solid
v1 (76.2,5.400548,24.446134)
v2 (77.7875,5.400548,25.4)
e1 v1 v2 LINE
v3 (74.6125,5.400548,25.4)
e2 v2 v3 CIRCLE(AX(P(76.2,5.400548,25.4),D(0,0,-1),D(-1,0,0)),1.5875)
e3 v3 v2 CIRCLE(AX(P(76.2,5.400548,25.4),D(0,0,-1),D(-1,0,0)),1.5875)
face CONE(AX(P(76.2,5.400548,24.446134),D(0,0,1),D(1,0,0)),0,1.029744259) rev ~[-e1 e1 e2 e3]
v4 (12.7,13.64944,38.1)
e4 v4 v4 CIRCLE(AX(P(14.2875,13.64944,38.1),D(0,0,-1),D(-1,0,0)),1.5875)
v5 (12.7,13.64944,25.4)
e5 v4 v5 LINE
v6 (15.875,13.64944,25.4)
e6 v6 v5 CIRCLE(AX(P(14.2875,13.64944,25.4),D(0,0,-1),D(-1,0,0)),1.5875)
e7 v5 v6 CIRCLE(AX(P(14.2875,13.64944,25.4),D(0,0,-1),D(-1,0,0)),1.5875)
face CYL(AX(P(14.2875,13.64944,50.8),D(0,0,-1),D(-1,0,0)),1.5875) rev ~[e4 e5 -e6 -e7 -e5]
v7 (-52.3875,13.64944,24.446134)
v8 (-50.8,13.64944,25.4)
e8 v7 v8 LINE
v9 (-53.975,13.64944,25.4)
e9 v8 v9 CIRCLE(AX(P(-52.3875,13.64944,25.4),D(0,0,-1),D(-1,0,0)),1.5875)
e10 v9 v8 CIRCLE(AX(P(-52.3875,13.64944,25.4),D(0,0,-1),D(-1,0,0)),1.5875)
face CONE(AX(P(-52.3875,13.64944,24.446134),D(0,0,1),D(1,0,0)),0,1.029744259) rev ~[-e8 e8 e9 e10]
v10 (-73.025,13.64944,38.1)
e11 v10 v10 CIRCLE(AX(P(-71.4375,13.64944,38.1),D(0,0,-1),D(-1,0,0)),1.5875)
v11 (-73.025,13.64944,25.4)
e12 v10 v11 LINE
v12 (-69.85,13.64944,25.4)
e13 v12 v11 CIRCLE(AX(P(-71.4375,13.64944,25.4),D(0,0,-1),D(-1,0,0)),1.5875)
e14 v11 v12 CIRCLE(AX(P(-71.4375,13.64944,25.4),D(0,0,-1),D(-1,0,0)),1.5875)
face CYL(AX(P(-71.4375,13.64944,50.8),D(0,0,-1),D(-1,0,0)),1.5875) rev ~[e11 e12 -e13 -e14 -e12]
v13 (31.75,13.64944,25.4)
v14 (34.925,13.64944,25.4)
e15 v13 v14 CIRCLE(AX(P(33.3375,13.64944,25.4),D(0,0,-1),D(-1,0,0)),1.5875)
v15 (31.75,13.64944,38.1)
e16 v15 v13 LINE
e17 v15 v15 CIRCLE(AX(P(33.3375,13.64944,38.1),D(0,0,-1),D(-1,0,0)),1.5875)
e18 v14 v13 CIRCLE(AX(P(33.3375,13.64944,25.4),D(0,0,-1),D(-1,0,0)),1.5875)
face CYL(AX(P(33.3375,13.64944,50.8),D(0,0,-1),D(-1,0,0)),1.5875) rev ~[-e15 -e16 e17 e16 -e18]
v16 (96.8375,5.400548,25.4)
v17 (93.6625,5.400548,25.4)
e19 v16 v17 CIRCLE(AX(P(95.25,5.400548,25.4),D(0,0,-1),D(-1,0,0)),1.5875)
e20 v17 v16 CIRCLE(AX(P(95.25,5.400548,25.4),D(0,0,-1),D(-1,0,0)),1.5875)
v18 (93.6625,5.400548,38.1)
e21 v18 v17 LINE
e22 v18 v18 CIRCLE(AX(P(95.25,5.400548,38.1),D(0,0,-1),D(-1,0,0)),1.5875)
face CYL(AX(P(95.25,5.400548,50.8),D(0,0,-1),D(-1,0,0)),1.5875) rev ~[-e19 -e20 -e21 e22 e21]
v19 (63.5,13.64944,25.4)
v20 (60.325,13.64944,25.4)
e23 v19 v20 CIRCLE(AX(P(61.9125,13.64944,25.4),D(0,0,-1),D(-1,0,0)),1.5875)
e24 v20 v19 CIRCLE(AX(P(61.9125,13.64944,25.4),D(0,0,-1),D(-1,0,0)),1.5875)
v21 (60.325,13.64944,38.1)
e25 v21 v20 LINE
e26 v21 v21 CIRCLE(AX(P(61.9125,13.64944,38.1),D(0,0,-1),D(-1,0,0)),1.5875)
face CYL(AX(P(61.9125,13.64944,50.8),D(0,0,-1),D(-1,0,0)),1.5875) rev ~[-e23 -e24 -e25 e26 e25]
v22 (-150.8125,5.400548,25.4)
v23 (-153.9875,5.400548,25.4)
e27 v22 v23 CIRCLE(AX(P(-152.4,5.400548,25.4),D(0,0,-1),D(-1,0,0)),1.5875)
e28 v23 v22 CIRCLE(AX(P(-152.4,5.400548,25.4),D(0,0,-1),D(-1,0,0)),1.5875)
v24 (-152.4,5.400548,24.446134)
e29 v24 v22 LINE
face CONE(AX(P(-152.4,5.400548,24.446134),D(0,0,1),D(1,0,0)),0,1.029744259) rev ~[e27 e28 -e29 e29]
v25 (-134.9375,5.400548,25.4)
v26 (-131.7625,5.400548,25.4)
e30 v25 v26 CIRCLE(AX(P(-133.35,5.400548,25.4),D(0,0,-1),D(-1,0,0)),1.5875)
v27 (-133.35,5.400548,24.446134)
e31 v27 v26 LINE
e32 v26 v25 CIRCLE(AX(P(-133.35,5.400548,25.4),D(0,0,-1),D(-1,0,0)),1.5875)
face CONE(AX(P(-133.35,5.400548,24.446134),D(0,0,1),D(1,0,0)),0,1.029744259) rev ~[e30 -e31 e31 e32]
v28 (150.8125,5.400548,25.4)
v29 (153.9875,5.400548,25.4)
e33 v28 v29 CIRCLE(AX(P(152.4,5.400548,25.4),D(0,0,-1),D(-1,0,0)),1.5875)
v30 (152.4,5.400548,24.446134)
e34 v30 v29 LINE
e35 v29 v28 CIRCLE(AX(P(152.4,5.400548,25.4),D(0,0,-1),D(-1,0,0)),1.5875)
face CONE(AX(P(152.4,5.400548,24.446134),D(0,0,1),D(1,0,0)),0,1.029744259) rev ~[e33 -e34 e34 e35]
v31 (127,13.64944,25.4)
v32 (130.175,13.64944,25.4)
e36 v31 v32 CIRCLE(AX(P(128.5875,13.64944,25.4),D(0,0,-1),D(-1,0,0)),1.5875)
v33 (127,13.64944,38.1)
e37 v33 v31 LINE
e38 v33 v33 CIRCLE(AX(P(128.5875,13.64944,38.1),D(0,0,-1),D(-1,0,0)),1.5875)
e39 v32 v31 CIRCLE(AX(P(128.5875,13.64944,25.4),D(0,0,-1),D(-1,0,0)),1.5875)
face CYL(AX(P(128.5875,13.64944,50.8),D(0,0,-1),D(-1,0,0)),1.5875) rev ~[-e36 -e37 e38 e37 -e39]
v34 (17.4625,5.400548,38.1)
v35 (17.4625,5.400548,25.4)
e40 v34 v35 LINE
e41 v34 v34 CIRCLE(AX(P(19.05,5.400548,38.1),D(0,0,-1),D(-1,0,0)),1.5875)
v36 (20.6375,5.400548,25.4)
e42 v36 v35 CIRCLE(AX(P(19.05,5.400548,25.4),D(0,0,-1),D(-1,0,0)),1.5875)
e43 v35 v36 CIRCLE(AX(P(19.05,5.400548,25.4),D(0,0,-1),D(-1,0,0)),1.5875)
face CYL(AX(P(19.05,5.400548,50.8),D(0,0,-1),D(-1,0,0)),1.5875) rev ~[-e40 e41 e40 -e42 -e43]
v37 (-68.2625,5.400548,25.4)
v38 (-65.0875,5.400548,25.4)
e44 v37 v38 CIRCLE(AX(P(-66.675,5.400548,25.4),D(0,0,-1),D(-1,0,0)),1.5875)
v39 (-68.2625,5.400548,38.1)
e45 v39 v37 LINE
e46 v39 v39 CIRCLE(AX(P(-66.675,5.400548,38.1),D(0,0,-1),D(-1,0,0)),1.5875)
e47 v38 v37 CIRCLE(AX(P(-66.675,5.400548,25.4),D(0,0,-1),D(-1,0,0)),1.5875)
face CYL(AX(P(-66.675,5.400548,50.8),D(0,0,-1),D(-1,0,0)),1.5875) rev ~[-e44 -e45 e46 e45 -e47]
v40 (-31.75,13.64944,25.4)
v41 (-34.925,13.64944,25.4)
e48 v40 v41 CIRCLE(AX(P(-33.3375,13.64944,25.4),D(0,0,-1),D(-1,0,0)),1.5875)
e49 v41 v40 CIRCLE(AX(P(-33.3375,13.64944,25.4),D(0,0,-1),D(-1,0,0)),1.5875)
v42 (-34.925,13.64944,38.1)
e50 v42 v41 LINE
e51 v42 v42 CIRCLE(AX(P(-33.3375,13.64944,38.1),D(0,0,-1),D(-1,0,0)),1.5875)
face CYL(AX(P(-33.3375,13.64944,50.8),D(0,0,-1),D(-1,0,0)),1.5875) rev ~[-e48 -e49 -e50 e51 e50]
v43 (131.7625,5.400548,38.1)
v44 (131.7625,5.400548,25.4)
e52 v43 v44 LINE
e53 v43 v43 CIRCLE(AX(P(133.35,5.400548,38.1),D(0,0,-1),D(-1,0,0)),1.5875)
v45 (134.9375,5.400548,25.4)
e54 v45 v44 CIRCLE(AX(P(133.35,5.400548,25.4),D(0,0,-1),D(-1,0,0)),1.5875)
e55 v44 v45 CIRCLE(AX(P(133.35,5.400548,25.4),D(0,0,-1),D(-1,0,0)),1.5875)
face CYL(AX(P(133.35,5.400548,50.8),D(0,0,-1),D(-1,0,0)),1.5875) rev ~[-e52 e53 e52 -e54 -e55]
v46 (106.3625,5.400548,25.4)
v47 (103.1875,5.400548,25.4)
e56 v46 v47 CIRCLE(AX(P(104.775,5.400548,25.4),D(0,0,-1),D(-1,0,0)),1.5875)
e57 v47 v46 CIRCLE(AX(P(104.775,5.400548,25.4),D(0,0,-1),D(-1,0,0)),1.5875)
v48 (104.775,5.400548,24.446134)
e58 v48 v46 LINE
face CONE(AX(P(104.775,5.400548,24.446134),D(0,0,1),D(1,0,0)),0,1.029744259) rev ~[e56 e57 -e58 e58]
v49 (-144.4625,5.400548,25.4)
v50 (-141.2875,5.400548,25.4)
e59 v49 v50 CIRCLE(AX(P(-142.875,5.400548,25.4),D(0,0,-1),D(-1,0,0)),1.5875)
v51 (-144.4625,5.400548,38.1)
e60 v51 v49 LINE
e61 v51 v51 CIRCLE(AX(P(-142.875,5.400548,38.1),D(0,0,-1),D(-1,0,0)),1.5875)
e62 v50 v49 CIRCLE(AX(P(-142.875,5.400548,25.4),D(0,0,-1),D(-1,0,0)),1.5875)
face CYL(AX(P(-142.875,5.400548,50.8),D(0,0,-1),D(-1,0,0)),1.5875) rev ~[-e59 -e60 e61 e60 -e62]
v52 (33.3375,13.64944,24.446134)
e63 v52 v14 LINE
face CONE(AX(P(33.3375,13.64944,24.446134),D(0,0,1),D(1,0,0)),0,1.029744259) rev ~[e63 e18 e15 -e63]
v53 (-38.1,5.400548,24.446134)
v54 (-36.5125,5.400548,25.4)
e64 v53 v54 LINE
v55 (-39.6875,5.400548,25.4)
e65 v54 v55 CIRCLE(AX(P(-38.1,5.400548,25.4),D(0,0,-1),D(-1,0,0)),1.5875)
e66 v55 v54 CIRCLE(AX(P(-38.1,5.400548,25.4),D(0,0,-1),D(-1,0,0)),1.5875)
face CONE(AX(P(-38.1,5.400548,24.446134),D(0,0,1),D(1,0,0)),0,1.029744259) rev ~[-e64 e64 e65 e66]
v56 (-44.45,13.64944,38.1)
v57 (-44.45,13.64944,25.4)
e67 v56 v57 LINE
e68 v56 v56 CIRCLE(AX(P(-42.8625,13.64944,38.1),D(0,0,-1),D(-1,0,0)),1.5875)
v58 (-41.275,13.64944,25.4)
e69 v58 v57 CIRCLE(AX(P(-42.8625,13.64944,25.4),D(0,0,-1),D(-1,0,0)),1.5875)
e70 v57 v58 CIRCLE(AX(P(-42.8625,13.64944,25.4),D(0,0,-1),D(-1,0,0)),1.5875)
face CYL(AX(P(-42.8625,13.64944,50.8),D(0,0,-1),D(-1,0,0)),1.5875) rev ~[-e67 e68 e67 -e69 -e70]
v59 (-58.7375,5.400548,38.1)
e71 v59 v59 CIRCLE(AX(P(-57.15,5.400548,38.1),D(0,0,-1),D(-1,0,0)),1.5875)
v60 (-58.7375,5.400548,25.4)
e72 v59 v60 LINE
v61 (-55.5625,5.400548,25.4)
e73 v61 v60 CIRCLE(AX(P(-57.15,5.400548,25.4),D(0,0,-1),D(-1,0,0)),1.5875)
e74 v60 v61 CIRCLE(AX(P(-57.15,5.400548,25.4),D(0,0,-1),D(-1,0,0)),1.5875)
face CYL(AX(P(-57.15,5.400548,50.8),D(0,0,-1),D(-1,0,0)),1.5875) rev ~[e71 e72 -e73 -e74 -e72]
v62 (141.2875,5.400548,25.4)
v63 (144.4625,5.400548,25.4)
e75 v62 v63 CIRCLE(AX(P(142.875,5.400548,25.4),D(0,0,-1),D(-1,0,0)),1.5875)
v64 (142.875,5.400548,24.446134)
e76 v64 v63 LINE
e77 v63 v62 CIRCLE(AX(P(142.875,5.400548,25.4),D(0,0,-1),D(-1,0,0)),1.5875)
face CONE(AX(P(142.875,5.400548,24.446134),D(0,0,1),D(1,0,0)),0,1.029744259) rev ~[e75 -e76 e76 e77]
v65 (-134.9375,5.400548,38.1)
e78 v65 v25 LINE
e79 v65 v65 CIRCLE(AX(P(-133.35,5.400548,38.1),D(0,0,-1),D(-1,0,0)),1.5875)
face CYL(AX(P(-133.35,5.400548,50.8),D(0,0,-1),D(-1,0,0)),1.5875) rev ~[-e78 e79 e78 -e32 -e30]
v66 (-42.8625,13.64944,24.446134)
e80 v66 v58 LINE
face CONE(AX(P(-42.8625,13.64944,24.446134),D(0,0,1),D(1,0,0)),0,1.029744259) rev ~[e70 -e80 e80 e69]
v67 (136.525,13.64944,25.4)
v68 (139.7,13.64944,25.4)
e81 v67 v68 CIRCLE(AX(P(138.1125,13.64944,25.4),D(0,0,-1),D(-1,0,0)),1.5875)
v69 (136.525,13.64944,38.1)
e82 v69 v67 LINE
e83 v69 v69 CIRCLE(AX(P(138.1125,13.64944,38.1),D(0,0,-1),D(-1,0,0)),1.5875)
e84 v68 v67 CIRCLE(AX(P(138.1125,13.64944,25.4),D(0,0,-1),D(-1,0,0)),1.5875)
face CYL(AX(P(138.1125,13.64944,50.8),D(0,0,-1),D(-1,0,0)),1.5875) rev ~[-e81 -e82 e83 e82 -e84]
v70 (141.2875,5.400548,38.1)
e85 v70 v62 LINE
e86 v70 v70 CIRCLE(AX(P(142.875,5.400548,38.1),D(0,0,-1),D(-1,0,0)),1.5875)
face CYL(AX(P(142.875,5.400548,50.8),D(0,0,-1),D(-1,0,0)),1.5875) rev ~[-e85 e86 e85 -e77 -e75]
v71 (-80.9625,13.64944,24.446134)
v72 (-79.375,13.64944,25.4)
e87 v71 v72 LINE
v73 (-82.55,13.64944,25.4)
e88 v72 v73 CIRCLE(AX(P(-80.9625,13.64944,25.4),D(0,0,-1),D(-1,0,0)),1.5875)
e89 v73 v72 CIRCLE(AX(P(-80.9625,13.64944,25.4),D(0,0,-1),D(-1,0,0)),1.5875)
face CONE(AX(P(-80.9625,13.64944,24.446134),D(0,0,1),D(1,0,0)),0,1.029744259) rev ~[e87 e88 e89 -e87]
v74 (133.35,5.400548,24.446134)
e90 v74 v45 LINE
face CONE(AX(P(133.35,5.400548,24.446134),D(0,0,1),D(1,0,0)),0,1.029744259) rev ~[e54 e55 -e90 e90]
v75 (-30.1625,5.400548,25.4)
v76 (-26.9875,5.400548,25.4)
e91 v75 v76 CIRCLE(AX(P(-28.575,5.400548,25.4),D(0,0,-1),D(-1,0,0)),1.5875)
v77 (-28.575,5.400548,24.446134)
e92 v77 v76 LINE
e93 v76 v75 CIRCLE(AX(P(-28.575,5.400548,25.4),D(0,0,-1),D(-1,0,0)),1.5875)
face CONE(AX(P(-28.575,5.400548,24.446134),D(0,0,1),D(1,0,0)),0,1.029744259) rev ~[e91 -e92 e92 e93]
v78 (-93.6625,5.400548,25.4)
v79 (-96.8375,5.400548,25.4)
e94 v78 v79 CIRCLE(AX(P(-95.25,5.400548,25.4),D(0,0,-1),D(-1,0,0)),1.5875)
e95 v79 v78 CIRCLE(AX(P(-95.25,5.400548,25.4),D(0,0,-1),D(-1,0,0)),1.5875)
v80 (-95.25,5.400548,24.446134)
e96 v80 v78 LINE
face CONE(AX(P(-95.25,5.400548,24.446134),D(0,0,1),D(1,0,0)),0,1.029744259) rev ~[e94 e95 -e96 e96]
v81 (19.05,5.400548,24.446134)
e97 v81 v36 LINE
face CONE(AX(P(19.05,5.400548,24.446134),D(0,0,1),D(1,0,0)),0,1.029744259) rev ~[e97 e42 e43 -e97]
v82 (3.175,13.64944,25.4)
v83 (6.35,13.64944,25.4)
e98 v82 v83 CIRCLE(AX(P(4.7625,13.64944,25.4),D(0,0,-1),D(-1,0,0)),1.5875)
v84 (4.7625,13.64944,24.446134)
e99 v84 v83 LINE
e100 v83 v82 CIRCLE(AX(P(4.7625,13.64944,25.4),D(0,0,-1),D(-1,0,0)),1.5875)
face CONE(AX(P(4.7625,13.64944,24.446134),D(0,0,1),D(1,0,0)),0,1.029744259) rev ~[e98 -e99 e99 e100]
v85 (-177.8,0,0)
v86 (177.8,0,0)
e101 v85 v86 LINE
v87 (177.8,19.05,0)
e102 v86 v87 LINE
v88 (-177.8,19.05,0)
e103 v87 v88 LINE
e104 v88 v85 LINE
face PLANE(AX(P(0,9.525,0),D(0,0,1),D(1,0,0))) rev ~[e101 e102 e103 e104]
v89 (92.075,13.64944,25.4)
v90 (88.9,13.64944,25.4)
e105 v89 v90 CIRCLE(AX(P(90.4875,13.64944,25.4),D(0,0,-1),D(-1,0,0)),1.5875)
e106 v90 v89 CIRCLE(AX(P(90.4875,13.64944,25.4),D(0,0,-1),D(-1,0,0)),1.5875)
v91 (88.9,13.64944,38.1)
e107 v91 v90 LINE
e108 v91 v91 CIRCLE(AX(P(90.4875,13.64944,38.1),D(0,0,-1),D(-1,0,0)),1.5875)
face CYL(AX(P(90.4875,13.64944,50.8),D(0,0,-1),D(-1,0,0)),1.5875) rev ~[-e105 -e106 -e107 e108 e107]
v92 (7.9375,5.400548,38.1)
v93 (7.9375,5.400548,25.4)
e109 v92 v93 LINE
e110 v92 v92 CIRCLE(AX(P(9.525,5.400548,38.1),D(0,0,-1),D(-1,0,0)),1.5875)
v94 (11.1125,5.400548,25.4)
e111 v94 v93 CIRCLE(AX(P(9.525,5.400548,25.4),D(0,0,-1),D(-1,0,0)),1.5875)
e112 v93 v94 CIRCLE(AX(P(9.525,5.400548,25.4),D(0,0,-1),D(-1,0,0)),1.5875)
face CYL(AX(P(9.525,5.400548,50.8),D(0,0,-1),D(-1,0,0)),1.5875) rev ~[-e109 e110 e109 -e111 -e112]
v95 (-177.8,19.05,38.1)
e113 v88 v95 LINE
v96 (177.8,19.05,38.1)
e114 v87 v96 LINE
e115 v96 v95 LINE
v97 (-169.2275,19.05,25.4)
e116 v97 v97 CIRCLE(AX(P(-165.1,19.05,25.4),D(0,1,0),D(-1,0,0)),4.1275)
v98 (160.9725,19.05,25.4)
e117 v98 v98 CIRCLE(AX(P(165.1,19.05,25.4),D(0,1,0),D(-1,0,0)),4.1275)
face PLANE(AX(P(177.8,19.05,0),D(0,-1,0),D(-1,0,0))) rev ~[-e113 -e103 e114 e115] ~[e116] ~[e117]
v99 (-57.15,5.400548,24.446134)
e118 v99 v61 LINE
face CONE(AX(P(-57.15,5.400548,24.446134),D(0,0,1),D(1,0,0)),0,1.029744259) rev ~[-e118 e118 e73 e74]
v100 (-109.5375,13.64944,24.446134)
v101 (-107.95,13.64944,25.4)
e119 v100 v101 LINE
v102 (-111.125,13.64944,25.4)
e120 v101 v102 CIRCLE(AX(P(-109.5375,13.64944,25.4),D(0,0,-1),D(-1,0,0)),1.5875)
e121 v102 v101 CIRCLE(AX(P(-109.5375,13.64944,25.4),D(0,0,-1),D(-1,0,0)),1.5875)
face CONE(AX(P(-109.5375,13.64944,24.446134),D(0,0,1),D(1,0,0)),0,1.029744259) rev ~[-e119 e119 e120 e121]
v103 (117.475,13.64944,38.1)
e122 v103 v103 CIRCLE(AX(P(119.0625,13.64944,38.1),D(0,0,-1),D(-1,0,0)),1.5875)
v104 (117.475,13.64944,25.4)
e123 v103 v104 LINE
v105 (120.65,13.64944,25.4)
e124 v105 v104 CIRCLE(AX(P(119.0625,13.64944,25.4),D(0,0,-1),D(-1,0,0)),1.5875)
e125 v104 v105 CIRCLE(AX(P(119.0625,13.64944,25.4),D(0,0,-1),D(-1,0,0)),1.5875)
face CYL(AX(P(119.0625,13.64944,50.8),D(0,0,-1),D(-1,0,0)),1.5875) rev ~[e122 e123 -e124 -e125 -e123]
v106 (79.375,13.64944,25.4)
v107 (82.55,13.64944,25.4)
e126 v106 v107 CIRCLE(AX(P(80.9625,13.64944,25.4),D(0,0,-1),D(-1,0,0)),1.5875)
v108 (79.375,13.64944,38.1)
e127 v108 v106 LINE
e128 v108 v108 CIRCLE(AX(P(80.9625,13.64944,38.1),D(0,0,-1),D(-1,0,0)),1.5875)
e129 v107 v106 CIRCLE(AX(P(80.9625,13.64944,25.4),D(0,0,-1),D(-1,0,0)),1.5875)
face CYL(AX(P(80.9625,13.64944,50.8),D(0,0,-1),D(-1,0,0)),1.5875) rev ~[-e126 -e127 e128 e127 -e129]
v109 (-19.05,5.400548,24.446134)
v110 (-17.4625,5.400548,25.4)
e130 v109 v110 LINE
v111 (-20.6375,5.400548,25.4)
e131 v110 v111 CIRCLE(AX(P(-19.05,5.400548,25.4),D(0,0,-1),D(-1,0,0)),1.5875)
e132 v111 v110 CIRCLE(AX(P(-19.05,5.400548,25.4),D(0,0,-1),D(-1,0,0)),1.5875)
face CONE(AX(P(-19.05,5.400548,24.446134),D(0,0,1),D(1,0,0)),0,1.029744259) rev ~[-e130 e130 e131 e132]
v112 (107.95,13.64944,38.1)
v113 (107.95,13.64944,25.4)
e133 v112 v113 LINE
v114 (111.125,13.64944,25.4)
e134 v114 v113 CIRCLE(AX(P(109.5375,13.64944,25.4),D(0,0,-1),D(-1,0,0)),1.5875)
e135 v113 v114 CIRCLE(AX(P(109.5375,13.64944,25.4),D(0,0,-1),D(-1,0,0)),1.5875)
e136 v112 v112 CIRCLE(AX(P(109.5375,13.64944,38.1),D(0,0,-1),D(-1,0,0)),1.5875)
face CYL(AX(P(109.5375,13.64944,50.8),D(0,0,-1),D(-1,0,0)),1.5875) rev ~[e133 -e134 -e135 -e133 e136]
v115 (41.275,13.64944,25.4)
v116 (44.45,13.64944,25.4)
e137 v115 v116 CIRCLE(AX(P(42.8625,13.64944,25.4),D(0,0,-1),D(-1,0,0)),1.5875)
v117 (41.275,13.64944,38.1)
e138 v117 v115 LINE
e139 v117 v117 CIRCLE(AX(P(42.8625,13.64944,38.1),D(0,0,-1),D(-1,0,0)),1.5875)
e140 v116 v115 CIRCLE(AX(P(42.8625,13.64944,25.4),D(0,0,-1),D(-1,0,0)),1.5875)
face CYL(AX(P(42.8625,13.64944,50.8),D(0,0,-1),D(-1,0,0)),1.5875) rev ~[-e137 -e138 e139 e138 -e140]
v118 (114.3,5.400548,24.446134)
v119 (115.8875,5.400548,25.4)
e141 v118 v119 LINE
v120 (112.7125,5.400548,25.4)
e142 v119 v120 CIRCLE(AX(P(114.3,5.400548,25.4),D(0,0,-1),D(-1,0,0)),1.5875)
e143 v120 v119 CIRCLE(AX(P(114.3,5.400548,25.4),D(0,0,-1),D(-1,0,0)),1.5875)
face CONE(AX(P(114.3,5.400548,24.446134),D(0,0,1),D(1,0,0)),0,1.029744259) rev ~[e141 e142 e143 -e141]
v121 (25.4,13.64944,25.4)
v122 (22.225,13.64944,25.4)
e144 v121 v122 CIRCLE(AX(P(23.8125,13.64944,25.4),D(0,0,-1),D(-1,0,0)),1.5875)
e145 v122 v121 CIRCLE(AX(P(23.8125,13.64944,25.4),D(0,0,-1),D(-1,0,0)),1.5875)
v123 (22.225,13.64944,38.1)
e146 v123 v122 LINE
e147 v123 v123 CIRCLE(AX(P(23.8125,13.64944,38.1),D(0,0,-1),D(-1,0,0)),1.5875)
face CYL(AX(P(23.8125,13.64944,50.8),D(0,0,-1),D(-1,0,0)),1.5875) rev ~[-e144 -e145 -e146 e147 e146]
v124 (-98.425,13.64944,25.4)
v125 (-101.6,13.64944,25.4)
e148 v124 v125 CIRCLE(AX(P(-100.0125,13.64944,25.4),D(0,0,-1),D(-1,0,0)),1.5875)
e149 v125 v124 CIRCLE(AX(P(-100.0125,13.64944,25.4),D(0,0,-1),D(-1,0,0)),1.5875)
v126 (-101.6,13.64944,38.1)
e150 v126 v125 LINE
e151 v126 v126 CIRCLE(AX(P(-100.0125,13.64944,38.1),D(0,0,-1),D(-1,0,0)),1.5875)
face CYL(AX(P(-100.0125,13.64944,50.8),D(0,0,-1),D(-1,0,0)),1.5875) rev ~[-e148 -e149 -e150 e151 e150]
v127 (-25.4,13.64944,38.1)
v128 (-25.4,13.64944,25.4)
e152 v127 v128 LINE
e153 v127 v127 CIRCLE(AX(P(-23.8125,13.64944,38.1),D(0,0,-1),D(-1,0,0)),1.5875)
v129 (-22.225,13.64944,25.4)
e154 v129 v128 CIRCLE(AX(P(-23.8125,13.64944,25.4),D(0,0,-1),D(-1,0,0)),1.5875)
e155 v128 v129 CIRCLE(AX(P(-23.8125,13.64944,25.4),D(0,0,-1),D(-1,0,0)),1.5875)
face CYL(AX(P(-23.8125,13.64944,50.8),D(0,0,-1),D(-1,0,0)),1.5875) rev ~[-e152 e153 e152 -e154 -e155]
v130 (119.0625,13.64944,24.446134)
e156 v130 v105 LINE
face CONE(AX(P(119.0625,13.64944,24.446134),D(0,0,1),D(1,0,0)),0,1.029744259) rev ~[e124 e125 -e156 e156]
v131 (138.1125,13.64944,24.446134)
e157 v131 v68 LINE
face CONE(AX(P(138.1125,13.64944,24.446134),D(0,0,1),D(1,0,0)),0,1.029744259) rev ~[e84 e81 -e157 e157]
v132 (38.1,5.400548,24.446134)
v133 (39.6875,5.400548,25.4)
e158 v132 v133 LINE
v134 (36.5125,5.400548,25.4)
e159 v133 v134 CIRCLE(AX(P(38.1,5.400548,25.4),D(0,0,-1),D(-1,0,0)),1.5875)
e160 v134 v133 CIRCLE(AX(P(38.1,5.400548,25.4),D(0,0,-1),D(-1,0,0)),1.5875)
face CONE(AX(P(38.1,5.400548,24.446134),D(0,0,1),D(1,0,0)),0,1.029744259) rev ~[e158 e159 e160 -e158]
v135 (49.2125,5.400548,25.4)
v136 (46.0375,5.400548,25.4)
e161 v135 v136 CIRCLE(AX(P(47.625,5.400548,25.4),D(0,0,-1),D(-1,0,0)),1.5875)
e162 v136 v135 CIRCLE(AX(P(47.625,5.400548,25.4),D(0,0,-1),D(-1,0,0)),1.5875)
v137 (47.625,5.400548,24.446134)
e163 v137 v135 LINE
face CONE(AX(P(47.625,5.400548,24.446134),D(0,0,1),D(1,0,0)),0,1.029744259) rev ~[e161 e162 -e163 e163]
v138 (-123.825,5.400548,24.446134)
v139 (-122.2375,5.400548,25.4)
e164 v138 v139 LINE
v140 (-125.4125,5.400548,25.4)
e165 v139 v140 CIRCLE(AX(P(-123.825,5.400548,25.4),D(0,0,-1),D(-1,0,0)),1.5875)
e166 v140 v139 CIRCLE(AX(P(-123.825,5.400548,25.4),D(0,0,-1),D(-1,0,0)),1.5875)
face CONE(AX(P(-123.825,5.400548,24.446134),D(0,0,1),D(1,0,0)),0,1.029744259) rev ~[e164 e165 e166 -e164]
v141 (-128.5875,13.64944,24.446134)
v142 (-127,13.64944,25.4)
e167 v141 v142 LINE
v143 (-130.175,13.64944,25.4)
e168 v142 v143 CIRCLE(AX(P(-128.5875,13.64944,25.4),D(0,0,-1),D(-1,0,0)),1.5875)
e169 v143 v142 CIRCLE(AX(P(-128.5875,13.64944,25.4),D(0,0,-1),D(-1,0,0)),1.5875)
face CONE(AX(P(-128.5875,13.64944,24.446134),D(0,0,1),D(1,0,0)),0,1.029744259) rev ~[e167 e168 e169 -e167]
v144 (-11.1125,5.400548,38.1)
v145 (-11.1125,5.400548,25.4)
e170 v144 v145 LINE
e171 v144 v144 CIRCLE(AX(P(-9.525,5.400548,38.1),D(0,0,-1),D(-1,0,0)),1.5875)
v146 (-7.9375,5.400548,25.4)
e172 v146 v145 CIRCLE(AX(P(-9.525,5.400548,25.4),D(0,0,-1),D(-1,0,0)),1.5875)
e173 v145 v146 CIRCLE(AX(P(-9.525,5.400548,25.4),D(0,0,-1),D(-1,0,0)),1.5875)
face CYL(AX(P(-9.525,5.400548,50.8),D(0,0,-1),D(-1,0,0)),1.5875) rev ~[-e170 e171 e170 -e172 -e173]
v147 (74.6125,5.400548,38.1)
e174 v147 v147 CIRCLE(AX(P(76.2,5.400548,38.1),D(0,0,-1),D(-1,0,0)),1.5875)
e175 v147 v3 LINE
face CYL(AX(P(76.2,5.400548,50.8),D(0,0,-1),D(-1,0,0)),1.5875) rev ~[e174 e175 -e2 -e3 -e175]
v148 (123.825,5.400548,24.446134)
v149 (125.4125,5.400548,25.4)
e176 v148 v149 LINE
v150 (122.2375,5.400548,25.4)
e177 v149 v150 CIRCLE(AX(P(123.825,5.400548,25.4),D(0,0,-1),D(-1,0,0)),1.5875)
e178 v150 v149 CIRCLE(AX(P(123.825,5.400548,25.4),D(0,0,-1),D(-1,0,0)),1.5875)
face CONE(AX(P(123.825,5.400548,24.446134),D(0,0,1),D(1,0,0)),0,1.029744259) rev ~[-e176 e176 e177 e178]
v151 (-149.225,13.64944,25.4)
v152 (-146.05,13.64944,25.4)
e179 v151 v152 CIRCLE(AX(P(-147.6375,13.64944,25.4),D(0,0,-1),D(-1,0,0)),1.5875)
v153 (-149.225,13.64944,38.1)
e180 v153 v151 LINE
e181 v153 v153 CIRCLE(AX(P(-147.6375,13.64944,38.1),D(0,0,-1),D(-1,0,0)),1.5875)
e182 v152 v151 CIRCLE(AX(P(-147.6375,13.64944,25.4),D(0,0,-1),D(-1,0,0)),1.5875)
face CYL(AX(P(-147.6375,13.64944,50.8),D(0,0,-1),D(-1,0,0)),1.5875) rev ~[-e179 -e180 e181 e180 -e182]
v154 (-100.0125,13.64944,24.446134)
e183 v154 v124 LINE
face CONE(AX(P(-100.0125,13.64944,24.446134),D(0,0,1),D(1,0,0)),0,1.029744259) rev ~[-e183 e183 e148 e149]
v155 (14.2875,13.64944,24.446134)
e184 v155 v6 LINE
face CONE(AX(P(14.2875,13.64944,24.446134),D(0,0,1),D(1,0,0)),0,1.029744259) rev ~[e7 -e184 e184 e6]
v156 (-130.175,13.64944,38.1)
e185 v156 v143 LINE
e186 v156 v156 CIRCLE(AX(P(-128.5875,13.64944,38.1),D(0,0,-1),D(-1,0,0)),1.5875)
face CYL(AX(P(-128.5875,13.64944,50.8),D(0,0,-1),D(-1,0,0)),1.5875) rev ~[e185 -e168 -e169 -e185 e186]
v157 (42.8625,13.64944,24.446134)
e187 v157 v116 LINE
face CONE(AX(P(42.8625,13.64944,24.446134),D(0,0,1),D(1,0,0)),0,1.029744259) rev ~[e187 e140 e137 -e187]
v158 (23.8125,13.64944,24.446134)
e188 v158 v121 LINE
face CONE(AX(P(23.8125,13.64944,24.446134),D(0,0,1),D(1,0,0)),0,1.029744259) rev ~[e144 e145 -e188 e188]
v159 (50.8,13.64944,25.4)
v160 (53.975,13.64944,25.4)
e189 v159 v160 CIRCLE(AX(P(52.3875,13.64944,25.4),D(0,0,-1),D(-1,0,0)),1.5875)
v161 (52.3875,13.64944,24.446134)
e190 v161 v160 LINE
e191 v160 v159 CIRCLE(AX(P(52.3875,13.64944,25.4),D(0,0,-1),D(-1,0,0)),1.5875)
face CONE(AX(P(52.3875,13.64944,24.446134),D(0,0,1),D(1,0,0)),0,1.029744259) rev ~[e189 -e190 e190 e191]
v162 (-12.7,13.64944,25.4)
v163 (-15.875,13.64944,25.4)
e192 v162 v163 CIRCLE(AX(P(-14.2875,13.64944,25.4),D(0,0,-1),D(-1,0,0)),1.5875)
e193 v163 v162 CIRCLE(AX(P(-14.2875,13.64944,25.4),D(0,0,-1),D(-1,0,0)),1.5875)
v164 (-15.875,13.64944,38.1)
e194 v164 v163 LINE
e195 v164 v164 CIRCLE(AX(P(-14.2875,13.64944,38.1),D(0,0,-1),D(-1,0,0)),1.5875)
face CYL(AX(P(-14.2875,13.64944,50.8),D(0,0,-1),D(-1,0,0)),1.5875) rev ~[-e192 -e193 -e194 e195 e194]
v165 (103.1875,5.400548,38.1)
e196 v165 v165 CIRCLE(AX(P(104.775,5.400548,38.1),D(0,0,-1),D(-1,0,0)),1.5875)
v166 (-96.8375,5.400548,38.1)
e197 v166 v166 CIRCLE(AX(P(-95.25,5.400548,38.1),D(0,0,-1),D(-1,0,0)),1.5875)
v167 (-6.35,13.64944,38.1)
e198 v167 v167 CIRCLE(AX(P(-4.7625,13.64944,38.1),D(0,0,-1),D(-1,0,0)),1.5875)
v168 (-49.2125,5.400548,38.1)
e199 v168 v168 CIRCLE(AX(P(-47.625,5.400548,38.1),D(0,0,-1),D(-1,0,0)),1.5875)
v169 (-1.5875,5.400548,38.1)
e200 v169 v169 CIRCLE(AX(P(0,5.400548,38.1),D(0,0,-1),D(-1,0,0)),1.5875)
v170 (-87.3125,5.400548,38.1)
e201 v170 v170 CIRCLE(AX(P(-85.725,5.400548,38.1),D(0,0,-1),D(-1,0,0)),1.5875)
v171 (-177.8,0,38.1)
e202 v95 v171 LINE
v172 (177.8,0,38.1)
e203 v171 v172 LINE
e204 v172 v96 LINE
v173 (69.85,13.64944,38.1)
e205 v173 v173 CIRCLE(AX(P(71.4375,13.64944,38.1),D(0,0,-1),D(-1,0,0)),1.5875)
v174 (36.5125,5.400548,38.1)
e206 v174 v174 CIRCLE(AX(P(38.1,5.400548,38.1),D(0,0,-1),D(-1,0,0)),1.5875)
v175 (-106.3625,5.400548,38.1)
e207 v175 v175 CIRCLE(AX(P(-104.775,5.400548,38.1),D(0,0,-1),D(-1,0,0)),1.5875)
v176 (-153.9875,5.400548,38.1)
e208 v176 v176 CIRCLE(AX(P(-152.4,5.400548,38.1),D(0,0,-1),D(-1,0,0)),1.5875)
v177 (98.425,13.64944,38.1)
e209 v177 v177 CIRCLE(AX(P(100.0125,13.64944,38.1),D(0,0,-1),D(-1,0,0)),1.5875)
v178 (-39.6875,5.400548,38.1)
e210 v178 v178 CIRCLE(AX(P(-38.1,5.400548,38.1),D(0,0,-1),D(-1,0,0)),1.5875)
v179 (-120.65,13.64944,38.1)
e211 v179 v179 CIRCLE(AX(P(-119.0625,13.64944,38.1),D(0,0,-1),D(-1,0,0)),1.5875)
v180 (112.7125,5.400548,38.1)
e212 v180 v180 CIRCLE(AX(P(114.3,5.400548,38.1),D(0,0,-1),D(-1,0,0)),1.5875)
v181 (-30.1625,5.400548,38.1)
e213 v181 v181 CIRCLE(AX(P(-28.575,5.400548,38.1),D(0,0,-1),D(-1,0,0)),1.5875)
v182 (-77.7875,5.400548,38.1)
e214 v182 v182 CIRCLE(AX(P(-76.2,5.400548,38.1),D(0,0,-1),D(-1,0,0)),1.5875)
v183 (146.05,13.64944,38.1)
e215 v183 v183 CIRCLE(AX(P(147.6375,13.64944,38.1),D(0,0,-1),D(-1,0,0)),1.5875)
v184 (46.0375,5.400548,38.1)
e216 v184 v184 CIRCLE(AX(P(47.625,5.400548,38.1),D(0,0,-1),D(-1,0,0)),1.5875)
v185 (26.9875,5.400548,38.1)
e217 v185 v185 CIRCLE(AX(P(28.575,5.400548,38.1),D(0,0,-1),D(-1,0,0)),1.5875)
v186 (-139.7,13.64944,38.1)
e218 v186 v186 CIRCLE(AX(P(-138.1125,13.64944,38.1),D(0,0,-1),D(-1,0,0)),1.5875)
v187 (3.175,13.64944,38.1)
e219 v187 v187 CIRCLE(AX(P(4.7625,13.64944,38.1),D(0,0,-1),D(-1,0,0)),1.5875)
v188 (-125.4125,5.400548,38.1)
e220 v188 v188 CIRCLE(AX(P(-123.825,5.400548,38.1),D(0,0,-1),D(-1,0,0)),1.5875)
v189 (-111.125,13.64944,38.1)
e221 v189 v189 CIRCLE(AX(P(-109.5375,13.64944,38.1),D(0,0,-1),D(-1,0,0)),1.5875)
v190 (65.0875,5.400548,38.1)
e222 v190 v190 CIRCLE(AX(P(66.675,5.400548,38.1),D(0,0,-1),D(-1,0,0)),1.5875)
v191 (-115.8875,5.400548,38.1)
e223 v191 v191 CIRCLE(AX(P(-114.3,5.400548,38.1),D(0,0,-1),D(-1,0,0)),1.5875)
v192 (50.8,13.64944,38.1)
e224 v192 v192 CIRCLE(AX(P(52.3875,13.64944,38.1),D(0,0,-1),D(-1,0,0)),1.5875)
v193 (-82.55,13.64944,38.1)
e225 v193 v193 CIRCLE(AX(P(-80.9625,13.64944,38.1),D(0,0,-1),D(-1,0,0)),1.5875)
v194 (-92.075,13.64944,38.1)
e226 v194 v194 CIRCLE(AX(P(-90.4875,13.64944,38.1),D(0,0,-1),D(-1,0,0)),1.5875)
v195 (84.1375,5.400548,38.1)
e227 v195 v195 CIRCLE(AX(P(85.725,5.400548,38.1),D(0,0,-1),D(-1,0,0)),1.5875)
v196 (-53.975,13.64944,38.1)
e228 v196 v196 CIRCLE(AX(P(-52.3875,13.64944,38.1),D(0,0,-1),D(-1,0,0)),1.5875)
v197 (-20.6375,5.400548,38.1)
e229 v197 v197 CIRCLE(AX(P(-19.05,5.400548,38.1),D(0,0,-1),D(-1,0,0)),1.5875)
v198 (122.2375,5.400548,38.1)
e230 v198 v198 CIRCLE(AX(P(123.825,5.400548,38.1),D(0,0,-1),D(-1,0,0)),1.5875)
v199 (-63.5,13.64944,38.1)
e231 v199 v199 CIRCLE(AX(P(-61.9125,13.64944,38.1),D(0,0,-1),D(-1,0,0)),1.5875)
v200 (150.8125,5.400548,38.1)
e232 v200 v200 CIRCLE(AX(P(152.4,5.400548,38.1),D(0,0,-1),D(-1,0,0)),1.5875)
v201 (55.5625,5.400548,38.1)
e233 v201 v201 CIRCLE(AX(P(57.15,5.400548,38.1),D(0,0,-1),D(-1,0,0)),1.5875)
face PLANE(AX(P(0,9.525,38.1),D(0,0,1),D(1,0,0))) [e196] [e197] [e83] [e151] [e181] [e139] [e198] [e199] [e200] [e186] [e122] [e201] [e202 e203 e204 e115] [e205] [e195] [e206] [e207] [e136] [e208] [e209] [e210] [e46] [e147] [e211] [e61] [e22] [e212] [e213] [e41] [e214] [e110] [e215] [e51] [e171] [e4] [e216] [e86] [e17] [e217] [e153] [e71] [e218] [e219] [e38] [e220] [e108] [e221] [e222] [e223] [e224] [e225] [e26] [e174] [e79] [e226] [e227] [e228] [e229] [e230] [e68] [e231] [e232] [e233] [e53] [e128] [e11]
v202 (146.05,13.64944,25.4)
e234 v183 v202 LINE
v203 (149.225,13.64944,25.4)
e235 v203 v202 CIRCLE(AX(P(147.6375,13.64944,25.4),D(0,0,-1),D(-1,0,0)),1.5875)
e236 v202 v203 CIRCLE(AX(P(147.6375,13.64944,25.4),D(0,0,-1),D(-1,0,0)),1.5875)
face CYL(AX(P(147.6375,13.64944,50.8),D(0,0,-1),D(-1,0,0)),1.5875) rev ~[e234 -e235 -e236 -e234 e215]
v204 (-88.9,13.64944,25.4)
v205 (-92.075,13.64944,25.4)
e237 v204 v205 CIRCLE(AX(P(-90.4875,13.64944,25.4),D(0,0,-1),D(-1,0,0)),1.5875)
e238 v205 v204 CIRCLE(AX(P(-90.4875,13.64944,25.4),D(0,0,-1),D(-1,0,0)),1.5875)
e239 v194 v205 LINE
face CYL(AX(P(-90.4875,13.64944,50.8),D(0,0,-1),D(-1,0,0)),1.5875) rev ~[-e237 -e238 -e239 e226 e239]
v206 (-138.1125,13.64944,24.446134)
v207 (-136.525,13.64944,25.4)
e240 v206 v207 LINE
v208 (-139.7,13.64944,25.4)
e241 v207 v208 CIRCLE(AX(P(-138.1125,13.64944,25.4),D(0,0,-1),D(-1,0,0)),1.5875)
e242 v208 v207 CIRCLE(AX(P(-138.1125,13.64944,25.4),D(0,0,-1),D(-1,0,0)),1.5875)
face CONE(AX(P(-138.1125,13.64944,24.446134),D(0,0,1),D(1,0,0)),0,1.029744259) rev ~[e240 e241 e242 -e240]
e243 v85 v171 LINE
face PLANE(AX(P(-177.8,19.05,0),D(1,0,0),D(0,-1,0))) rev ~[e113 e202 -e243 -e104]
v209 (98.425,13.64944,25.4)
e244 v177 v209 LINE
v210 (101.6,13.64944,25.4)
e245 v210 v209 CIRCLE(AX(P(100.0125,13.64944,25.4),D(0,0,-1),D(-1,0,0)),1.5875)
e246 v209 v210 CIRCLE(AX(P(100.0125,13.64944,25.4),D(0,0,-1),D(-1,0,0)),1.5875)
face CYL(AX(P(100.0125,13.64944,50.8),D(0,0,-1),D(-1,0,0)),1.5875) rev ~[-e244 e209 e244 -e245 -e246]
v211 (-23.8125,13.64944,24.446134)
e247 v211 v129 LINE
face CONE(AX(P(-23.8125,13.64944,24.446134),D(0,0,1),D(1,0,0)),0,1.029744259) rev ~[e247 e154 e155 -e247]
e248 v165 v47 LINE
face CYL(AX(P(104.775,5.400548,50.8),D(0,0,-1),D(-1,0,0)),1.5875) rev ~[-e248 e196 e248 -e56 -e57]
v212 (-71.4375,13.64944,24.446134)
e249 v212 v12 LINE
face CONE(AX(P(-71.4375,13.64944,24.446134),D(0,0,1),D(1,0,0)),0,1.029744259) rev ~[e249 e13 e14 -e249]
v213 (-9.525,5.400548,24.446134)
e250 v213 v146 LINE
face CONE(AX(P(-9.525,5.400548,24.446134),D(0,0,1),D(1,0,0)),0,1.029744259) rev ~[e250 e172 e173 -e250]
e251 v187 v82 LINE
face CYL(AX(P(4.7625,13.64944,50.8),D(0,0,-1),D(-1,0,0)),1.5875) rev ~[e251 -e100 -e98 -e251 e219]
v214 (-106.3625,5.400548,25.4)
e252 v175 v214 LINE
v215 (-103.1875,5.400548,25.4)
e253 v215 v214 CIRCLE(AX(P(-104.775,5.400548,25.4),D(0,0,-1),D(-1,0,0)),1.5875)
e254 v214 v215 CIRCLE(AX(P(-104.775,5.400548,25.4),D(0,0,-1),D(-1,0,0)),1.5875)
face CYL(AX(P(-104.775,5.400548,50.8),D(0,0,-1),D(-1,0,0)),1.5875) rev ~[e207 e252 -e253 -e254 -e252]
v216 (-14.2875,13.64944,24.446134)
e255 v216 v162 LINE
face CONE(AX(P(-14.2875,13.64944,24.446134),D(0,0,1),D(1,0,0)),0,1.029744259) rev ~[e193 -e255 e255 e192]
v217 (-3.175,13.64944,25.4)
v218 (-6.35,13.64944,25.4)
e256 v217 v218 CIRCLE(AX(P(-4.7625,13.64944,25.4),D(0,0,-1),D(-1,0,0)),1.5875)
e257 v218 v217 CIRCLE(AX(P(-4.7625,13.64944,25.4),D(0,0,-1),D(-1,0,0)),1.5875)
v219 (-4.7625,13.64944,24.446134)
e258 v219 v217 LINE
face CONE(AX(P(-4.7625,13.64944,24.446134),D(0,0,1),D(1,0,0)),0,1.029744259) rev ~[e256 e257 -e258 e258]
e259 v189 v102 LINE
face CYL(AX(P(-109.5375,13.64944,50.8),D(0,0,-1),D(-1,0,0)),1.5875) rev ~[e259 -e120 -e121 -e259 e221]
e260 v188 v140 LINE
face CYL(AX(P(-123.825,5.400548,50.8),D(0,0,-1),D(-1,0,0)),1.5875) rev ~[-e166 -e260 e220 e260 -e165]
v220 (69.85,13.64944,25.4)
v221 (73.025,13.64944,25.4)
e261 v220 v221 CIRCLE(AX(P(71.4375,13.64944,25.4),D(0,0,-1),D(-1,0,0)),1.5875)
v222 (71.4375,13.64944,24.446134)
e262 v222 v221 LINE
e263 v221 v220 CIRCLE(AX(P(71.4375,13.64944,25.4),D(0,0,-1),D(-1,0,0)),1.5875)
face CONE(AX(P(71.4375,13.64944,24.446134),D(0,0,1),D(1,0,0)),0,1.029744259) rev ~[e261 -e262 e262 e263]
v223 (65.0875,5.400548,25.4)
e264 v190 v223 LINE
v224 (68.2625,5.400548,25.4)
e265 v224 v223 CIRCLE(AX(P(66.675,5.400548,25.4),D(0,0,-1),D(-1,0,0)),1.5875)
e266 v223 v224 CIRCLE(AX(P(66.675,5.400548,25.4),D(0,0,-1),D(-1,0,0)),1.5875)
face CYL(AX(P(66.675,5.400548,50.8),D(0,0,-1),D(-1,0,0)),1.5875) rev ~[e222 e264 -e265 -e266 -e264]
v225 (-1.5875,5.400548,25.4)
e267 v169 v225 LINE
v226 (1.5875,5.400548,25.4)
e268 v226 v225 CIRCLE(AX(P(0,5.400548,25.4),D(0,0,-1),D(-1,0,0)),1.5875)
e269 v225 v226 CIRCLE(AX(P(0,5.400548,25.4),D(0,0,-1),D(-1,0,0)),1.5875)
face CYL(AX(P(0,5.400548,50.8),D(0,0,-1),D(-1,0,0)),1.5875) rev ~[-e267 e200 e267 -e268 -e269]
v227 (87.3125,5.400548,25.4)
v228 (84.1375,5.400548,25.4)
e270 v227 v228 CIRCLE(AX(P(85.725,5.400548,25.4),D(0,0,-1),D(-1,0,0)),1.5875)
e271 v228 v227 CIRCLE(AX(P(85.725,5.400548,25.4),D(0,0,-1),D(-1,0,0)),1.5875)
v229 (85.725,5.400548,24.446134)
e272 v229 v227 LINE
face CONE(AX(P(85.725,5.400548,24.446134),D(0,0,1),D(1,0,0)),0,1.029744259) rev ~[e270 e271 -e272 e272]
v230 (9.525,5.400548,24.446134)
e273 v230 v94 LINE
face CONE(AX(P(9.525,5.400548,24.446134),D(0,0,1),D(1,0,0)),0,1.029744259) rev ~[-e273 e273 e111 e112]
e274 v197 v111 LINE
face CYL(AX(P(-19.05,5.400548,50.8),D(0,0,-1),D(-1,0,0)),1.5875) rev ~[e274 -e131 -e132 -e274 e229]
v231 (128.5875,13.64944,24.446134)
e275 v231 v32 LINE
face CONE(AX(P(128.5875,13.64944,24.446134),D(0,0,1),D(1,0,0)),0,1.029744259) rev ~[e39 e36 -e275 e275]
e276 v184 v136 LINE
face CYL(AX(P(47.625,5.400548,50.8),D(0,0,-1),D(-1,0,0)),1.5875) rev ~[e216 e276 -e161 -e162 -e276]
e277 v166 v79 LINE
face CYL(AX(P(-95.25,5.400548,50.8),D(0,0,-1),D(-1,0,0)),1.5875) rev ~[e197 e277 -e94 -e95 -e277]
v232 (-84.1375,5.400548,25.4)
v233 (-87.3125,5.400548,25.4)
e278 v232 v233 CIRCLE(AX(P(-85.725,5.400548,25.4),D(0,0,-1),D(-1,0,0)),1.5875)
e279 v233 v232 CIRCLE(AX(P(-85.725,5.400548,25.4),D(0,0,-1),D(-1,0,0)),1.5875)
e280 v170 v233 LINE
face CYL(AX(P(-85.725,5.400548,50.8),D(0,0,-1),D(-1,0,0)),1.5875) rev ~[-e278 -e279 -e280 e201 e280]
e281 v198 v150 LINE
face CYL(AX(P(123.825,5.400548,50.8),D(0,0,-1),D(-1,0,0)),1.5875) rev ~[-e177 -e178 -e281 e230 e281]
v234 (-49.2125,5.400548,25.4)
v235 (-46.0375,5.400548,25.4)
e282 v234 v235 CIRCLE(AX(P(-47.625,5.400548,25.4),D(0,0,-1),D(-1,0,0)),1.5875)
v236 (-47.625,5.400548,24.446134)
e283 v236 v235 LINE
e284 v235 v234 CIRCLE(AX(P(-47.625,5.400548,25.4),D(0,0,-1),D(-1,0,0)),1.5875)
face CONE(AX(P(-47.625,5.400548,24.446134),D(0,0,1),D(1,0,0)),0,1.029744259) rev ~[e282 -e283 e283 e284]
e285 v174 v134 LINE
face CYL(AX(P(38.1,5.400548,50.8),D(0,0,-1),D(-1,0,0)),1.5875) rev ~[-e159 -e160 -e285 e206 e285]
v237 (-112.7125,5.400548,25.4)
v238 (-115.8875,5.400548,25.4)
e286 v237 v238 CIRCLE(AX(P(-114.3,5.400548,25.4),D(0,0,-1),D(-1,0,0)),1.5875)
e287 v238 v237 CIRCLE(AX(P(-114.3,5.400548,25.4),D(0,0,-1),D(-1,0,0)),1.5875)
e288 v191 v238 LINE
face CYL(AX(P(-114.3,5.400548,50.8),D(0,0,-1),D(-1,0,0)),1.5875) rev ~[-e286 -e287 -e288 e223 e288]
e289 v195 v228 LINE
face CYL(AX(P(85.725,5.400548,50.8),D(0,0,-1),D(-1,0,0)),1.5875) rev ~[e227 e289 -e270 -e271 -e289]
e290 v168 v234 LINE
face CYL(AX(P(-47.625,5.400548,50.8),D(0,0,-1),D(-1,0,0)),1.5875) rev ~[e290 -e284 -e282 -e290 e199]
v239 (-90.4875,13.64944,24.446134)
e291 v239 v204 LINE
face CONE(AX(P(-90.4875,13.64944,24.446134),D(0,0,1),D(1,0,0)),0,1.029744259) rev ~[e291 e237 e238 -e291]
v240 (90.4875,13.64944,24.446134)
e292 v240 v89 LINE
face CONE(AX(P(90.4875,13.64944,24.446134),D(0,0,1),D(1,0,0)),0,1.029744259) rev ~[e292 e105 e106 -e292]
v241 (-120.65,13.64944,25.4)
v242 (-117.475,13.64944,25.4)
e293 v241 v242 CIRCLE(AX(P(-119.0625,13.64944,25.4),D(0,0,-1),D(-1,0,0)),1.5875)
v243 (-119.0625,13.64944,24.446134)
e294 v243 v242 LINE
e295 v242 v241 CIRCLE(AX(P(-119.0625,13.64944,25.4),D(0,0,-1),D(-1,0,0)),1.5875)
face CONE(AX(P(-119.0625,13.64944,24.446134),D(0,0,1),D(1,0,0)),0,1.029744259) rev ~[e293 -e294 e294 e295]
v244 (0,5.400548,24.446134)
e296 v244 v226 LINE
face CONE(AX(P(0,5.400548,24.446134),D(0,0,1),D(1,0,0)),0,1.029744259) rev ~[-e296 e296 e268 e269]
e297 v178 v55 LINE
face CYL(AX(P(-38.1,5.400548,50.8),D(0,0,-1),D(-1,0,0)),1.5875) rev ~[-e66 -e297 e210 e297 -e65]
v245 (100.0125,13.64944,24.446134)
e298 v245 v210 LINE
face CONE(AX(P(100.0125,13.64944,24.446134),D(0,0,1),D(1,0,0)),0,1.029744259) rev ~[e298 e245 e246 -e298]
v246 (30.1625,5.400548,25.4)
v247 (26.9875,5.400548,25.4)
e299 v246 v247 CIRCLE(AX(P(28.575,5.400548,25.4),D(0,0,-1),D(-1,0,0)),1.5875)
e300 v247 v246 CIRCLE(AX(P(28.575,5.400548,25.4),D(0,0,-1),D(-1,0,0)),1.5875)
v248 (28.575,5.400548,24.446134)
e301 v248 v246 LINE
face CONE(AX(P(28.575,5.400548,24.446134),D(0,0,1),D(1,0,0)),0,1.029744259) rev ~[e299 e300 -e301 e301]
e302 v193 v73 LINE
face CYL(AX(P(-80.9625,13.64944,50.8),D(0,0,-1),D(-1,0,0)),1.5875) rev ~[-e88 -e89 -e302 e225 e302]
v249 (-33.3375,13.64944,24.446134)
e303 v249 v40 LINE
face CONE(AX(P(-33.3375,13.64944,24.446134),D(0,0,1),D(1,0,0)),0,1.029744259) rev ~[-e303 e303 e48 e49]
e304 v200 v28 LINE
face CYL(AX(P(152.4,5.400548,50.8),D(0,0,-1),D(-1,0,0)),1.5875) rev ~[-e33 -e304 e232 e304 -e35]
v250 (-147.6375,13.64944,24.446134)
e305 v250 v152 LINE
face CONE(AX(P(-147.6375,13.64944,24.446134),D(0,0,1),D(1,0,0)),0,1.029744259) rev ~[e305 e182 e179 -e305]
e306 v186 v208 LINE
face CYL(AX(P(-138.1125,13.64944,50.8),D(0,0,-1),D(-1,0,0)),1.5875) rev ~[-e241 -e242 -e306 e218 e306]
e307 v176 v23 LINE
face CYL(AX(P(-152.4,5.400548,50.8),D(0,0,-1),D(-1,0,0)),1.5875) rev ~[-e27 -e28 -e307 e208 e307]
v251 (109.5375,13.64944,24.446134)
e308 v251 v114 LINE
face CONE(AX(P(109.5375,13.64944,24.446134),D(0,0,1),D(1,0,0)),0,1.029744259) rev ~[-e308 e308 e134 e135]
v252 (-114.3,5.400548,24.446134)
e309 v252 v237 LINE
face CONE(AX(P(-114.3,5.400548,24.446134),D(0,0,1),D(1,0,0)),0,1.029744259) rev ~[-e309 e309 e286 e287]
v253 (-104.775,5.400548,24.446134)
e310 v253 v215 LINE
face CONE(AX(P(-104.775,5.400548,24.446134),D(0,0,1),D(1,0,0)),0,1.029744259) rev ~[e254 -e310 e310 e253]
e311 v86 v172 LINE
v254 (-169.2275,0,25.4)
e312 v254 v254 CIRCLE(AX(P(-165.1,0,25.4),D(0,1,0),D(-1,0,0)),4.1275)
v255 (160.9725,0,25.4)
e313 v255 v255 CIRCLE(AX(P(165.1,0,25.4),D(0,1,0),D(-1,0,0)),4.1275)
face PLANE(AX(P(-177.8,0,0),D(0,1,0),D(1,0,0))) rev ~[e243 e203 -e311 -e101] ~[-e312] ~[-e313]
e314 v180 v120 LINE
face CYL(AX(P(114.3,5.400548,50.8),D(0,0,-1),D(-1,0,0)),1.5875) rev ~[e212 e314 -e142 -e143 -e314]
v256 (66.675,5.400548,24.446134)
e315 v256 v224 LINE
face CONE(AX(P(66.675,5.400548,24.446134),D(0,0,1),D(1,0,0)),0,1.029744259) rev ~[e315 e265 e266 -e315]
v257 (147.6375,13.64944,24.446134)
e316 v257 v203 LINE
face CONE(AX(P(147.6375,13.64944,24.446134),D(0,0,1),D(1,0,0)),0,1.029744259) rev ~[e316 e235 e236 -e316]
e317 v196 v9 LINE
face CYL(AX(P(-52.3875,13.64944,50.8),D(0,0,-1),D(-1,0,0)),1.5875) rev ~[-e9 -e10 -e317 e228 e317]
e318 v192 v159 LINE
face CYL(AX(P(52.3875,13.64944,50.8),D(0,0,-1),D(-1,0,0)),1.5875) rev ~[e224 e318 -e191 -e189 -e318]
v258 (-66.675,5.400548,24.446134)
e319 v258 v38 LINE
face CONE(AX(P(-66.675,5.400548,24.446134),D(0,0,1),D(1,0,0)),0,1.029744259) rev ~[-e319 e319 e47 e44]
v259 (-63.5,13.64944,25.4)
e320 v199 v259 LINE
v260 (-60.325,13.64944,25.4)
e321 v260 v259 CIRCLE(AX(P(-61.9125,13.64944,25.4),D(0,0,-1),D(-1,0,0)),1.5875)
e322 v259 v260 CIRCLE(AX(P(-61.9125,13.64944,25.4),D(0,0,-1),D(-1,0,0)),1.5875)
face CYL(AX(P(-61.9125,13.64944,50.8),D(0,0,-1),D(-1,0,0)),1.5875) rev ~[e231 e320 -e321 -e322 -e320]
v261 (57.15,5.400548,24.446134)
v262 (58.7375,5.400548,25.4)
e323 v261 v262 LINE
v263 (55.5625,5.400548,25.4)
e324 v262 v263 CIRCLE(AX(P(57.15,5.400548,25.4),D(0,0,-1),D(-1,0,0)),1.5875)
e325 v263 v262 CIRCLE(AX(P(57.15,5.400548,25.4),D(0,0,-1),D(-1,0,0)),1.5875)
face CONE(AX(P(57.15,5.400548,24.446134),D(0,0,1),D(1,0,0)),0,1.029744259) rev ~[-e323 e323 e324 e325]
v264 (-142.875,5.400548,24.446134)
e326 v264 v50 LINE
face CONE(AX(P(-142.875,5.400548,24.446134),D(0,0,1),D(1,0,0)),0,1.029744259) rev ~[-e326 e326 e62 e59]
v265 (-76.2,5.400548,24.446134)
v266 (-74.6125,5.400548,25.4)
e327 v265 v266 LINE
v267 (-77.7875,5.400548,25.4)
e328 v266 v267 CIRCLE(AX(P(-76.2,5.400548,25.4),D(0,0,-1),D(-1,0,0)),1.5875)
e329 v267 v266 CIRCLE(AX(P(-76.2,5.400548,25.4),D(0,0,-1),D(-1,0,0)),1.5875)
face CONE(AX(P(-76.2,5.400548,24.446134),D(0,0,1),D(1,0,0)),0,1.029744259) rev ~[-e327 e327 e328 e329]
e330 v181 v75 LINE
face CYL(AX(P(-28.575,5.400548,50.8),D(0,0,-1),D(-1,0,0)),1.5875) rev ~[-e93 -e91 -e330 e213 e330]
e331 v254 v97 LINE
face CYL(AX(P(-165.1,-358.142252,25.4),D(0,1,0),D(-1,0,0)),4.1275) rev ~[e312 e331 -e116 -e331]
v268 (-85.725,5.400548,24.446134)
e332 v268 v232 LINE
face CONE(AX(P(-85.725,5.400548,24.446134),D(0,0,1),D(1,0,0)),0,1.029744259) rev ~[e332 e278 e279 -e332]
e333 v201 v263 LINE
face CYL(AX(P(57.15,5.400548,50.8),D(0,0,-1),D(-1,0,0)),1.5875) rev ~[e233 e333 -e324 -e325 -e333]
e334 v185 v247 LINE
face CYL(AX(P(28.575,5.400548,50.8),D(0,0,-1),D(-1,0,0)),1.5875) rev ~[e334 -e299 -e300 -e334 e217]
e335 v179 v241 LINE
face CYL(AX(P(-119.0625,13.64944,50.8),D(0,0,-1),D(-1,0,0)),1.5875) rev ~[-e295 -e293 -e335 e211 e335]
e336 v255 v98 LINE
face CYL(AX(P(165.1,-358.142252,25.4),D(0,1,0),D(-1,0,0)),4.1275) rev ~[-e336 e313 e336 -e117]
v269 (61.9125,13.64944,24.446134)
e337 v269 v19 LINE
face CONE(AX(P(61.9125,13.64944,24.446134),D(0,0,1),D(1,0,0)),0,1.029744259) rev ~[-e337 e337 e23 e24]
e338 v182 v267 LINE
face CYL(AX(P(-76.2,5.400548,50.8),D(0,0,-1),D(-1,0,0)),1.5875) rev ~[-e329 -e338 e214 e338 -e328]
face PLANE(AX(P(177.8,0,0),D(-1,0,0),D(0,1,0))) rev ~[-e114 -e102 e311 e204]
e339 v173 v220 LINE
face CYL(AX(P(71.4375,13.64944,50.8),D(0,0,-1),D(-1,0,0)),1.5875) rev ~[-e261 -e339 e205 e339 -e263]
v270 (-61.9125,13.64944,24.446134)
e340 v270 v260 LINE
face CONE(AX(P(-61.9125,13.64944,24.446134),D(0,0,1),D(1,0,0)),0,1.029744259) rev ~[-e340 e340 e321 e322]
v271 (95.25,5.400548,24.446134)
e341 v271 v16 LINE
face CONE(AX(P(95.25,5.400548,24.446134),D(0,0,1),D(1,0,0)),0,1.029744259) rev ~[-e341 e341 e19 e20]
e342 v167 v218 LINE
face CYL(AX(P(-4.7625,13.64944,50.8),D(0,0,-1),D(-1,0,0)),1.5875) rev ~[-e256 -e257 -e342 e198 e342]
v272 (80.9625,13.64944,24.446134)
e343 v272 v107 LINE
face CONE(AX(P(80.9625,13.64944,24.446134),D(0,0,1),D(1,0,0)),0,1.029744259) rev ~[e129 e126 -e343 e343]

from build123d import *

# Parameters (mm, degrees)
F1_DEPTH = 38.1
F3_D     = 3.175
F3_DEPTH = 12.7
F3_TIP   = 0.9538662327
F5_D     = 8.255


with BuildPart() as f1:
    # F0 (on Top) → F1 (new body)
    with BuildSketch(Plane.XY):
        Polygon((-177.8, 0), (0, 0), (177.8, 0), (177.8, 19.05), (-177.8, 19.05), align=None)
    extrude(amount=F1_DEPTH)

    # F3
    with Locations(Plane.XY.offset(38.1)):
        with Locations((-95.25, 5.400548), (23.8125, 13.649439971), (-76.2, 5.400548), (-61.9125, 13.649439971), (-47.625, 5.400548), (-128.5875, 13.649439971), (138.1125, 13.649439971), (71.4375, 13.649439971), (90.4875, 13.649439971), (-109.5375, 13.649439971), (-123.825, 5.400548), (100.0125, 13.649439971), (42.8625, 13.649439971), (-28.575, 5.400548), (-33.3375, 13.649439971), (-147.6375, 13.649439971), (142.875, 5.400548), (104.775, 5.400548), (-52.3875, 13.649439971), (-104.775, 5.400548), (52.3875, 13.649439971), (-100.0125, 13.649439971), (-57.15, 5.400548), (33.3375, 13.649439971), (-119.0625, 13.649439971), (-38.1, 5.400548), (9.525, 5.400548), (19.05, 5.400548), (28.575, 5.400548), (38.1, 5.400548), (47.625, 5.400548), (57.15, 5.400548), (-80.9625, 13.649439971), (123.825, 5.400548), (-9.525, 5.400548), (-14.2875, 13.649439971), (-142.875, 5.400548), (119.0625, 13.649439971), (4.7625, 13.649439971), (14.2875, 13.649439971), (-138.1125, 13.649439971), (-19.05, 5.400548), (152.4, 5.400548), (80.9625, 13.649439971), (147.6375, 13.649439971), (-71.4375, 13.649439971), (-4.7625, 13.649439971), (-152.4, 5.400548), (-85.725, 5.400548), (133.35, 5.400548), (66.675, 5.400548), (61.9125, 13.649439971), (128.5875, 13.649439971), (-90.4875, 13.649439971), (-23.8125, 13.649439971), (-133.35, 5.400548), (-66.675, 5.400548), (114.3, 5.400548), (76.2, 5.400548), (85.725, 5.400548), (109.5375, 13.649439971), (-42.8625, 13.649439971), (-114.3, 5.400548), (95.25, 5.400548), (0, 5.400548)):
            Hole(F3_D / 2, depth=F3_DEPTH)
            with Locations((0, 0, -(F3_DEPTH + F3_TIP / 2))):  # 118° drill point
                Cone(0, F3_D / 2, F3_TIP, mode=Mode.SUBTRACT)

    # F5 (through all)
    with Locations(Plane.XZ):
        with Locations((-165.1, 25.4), (165.1, 25.4)):
            Hole(F5_D / 2)


solid = f1.part
